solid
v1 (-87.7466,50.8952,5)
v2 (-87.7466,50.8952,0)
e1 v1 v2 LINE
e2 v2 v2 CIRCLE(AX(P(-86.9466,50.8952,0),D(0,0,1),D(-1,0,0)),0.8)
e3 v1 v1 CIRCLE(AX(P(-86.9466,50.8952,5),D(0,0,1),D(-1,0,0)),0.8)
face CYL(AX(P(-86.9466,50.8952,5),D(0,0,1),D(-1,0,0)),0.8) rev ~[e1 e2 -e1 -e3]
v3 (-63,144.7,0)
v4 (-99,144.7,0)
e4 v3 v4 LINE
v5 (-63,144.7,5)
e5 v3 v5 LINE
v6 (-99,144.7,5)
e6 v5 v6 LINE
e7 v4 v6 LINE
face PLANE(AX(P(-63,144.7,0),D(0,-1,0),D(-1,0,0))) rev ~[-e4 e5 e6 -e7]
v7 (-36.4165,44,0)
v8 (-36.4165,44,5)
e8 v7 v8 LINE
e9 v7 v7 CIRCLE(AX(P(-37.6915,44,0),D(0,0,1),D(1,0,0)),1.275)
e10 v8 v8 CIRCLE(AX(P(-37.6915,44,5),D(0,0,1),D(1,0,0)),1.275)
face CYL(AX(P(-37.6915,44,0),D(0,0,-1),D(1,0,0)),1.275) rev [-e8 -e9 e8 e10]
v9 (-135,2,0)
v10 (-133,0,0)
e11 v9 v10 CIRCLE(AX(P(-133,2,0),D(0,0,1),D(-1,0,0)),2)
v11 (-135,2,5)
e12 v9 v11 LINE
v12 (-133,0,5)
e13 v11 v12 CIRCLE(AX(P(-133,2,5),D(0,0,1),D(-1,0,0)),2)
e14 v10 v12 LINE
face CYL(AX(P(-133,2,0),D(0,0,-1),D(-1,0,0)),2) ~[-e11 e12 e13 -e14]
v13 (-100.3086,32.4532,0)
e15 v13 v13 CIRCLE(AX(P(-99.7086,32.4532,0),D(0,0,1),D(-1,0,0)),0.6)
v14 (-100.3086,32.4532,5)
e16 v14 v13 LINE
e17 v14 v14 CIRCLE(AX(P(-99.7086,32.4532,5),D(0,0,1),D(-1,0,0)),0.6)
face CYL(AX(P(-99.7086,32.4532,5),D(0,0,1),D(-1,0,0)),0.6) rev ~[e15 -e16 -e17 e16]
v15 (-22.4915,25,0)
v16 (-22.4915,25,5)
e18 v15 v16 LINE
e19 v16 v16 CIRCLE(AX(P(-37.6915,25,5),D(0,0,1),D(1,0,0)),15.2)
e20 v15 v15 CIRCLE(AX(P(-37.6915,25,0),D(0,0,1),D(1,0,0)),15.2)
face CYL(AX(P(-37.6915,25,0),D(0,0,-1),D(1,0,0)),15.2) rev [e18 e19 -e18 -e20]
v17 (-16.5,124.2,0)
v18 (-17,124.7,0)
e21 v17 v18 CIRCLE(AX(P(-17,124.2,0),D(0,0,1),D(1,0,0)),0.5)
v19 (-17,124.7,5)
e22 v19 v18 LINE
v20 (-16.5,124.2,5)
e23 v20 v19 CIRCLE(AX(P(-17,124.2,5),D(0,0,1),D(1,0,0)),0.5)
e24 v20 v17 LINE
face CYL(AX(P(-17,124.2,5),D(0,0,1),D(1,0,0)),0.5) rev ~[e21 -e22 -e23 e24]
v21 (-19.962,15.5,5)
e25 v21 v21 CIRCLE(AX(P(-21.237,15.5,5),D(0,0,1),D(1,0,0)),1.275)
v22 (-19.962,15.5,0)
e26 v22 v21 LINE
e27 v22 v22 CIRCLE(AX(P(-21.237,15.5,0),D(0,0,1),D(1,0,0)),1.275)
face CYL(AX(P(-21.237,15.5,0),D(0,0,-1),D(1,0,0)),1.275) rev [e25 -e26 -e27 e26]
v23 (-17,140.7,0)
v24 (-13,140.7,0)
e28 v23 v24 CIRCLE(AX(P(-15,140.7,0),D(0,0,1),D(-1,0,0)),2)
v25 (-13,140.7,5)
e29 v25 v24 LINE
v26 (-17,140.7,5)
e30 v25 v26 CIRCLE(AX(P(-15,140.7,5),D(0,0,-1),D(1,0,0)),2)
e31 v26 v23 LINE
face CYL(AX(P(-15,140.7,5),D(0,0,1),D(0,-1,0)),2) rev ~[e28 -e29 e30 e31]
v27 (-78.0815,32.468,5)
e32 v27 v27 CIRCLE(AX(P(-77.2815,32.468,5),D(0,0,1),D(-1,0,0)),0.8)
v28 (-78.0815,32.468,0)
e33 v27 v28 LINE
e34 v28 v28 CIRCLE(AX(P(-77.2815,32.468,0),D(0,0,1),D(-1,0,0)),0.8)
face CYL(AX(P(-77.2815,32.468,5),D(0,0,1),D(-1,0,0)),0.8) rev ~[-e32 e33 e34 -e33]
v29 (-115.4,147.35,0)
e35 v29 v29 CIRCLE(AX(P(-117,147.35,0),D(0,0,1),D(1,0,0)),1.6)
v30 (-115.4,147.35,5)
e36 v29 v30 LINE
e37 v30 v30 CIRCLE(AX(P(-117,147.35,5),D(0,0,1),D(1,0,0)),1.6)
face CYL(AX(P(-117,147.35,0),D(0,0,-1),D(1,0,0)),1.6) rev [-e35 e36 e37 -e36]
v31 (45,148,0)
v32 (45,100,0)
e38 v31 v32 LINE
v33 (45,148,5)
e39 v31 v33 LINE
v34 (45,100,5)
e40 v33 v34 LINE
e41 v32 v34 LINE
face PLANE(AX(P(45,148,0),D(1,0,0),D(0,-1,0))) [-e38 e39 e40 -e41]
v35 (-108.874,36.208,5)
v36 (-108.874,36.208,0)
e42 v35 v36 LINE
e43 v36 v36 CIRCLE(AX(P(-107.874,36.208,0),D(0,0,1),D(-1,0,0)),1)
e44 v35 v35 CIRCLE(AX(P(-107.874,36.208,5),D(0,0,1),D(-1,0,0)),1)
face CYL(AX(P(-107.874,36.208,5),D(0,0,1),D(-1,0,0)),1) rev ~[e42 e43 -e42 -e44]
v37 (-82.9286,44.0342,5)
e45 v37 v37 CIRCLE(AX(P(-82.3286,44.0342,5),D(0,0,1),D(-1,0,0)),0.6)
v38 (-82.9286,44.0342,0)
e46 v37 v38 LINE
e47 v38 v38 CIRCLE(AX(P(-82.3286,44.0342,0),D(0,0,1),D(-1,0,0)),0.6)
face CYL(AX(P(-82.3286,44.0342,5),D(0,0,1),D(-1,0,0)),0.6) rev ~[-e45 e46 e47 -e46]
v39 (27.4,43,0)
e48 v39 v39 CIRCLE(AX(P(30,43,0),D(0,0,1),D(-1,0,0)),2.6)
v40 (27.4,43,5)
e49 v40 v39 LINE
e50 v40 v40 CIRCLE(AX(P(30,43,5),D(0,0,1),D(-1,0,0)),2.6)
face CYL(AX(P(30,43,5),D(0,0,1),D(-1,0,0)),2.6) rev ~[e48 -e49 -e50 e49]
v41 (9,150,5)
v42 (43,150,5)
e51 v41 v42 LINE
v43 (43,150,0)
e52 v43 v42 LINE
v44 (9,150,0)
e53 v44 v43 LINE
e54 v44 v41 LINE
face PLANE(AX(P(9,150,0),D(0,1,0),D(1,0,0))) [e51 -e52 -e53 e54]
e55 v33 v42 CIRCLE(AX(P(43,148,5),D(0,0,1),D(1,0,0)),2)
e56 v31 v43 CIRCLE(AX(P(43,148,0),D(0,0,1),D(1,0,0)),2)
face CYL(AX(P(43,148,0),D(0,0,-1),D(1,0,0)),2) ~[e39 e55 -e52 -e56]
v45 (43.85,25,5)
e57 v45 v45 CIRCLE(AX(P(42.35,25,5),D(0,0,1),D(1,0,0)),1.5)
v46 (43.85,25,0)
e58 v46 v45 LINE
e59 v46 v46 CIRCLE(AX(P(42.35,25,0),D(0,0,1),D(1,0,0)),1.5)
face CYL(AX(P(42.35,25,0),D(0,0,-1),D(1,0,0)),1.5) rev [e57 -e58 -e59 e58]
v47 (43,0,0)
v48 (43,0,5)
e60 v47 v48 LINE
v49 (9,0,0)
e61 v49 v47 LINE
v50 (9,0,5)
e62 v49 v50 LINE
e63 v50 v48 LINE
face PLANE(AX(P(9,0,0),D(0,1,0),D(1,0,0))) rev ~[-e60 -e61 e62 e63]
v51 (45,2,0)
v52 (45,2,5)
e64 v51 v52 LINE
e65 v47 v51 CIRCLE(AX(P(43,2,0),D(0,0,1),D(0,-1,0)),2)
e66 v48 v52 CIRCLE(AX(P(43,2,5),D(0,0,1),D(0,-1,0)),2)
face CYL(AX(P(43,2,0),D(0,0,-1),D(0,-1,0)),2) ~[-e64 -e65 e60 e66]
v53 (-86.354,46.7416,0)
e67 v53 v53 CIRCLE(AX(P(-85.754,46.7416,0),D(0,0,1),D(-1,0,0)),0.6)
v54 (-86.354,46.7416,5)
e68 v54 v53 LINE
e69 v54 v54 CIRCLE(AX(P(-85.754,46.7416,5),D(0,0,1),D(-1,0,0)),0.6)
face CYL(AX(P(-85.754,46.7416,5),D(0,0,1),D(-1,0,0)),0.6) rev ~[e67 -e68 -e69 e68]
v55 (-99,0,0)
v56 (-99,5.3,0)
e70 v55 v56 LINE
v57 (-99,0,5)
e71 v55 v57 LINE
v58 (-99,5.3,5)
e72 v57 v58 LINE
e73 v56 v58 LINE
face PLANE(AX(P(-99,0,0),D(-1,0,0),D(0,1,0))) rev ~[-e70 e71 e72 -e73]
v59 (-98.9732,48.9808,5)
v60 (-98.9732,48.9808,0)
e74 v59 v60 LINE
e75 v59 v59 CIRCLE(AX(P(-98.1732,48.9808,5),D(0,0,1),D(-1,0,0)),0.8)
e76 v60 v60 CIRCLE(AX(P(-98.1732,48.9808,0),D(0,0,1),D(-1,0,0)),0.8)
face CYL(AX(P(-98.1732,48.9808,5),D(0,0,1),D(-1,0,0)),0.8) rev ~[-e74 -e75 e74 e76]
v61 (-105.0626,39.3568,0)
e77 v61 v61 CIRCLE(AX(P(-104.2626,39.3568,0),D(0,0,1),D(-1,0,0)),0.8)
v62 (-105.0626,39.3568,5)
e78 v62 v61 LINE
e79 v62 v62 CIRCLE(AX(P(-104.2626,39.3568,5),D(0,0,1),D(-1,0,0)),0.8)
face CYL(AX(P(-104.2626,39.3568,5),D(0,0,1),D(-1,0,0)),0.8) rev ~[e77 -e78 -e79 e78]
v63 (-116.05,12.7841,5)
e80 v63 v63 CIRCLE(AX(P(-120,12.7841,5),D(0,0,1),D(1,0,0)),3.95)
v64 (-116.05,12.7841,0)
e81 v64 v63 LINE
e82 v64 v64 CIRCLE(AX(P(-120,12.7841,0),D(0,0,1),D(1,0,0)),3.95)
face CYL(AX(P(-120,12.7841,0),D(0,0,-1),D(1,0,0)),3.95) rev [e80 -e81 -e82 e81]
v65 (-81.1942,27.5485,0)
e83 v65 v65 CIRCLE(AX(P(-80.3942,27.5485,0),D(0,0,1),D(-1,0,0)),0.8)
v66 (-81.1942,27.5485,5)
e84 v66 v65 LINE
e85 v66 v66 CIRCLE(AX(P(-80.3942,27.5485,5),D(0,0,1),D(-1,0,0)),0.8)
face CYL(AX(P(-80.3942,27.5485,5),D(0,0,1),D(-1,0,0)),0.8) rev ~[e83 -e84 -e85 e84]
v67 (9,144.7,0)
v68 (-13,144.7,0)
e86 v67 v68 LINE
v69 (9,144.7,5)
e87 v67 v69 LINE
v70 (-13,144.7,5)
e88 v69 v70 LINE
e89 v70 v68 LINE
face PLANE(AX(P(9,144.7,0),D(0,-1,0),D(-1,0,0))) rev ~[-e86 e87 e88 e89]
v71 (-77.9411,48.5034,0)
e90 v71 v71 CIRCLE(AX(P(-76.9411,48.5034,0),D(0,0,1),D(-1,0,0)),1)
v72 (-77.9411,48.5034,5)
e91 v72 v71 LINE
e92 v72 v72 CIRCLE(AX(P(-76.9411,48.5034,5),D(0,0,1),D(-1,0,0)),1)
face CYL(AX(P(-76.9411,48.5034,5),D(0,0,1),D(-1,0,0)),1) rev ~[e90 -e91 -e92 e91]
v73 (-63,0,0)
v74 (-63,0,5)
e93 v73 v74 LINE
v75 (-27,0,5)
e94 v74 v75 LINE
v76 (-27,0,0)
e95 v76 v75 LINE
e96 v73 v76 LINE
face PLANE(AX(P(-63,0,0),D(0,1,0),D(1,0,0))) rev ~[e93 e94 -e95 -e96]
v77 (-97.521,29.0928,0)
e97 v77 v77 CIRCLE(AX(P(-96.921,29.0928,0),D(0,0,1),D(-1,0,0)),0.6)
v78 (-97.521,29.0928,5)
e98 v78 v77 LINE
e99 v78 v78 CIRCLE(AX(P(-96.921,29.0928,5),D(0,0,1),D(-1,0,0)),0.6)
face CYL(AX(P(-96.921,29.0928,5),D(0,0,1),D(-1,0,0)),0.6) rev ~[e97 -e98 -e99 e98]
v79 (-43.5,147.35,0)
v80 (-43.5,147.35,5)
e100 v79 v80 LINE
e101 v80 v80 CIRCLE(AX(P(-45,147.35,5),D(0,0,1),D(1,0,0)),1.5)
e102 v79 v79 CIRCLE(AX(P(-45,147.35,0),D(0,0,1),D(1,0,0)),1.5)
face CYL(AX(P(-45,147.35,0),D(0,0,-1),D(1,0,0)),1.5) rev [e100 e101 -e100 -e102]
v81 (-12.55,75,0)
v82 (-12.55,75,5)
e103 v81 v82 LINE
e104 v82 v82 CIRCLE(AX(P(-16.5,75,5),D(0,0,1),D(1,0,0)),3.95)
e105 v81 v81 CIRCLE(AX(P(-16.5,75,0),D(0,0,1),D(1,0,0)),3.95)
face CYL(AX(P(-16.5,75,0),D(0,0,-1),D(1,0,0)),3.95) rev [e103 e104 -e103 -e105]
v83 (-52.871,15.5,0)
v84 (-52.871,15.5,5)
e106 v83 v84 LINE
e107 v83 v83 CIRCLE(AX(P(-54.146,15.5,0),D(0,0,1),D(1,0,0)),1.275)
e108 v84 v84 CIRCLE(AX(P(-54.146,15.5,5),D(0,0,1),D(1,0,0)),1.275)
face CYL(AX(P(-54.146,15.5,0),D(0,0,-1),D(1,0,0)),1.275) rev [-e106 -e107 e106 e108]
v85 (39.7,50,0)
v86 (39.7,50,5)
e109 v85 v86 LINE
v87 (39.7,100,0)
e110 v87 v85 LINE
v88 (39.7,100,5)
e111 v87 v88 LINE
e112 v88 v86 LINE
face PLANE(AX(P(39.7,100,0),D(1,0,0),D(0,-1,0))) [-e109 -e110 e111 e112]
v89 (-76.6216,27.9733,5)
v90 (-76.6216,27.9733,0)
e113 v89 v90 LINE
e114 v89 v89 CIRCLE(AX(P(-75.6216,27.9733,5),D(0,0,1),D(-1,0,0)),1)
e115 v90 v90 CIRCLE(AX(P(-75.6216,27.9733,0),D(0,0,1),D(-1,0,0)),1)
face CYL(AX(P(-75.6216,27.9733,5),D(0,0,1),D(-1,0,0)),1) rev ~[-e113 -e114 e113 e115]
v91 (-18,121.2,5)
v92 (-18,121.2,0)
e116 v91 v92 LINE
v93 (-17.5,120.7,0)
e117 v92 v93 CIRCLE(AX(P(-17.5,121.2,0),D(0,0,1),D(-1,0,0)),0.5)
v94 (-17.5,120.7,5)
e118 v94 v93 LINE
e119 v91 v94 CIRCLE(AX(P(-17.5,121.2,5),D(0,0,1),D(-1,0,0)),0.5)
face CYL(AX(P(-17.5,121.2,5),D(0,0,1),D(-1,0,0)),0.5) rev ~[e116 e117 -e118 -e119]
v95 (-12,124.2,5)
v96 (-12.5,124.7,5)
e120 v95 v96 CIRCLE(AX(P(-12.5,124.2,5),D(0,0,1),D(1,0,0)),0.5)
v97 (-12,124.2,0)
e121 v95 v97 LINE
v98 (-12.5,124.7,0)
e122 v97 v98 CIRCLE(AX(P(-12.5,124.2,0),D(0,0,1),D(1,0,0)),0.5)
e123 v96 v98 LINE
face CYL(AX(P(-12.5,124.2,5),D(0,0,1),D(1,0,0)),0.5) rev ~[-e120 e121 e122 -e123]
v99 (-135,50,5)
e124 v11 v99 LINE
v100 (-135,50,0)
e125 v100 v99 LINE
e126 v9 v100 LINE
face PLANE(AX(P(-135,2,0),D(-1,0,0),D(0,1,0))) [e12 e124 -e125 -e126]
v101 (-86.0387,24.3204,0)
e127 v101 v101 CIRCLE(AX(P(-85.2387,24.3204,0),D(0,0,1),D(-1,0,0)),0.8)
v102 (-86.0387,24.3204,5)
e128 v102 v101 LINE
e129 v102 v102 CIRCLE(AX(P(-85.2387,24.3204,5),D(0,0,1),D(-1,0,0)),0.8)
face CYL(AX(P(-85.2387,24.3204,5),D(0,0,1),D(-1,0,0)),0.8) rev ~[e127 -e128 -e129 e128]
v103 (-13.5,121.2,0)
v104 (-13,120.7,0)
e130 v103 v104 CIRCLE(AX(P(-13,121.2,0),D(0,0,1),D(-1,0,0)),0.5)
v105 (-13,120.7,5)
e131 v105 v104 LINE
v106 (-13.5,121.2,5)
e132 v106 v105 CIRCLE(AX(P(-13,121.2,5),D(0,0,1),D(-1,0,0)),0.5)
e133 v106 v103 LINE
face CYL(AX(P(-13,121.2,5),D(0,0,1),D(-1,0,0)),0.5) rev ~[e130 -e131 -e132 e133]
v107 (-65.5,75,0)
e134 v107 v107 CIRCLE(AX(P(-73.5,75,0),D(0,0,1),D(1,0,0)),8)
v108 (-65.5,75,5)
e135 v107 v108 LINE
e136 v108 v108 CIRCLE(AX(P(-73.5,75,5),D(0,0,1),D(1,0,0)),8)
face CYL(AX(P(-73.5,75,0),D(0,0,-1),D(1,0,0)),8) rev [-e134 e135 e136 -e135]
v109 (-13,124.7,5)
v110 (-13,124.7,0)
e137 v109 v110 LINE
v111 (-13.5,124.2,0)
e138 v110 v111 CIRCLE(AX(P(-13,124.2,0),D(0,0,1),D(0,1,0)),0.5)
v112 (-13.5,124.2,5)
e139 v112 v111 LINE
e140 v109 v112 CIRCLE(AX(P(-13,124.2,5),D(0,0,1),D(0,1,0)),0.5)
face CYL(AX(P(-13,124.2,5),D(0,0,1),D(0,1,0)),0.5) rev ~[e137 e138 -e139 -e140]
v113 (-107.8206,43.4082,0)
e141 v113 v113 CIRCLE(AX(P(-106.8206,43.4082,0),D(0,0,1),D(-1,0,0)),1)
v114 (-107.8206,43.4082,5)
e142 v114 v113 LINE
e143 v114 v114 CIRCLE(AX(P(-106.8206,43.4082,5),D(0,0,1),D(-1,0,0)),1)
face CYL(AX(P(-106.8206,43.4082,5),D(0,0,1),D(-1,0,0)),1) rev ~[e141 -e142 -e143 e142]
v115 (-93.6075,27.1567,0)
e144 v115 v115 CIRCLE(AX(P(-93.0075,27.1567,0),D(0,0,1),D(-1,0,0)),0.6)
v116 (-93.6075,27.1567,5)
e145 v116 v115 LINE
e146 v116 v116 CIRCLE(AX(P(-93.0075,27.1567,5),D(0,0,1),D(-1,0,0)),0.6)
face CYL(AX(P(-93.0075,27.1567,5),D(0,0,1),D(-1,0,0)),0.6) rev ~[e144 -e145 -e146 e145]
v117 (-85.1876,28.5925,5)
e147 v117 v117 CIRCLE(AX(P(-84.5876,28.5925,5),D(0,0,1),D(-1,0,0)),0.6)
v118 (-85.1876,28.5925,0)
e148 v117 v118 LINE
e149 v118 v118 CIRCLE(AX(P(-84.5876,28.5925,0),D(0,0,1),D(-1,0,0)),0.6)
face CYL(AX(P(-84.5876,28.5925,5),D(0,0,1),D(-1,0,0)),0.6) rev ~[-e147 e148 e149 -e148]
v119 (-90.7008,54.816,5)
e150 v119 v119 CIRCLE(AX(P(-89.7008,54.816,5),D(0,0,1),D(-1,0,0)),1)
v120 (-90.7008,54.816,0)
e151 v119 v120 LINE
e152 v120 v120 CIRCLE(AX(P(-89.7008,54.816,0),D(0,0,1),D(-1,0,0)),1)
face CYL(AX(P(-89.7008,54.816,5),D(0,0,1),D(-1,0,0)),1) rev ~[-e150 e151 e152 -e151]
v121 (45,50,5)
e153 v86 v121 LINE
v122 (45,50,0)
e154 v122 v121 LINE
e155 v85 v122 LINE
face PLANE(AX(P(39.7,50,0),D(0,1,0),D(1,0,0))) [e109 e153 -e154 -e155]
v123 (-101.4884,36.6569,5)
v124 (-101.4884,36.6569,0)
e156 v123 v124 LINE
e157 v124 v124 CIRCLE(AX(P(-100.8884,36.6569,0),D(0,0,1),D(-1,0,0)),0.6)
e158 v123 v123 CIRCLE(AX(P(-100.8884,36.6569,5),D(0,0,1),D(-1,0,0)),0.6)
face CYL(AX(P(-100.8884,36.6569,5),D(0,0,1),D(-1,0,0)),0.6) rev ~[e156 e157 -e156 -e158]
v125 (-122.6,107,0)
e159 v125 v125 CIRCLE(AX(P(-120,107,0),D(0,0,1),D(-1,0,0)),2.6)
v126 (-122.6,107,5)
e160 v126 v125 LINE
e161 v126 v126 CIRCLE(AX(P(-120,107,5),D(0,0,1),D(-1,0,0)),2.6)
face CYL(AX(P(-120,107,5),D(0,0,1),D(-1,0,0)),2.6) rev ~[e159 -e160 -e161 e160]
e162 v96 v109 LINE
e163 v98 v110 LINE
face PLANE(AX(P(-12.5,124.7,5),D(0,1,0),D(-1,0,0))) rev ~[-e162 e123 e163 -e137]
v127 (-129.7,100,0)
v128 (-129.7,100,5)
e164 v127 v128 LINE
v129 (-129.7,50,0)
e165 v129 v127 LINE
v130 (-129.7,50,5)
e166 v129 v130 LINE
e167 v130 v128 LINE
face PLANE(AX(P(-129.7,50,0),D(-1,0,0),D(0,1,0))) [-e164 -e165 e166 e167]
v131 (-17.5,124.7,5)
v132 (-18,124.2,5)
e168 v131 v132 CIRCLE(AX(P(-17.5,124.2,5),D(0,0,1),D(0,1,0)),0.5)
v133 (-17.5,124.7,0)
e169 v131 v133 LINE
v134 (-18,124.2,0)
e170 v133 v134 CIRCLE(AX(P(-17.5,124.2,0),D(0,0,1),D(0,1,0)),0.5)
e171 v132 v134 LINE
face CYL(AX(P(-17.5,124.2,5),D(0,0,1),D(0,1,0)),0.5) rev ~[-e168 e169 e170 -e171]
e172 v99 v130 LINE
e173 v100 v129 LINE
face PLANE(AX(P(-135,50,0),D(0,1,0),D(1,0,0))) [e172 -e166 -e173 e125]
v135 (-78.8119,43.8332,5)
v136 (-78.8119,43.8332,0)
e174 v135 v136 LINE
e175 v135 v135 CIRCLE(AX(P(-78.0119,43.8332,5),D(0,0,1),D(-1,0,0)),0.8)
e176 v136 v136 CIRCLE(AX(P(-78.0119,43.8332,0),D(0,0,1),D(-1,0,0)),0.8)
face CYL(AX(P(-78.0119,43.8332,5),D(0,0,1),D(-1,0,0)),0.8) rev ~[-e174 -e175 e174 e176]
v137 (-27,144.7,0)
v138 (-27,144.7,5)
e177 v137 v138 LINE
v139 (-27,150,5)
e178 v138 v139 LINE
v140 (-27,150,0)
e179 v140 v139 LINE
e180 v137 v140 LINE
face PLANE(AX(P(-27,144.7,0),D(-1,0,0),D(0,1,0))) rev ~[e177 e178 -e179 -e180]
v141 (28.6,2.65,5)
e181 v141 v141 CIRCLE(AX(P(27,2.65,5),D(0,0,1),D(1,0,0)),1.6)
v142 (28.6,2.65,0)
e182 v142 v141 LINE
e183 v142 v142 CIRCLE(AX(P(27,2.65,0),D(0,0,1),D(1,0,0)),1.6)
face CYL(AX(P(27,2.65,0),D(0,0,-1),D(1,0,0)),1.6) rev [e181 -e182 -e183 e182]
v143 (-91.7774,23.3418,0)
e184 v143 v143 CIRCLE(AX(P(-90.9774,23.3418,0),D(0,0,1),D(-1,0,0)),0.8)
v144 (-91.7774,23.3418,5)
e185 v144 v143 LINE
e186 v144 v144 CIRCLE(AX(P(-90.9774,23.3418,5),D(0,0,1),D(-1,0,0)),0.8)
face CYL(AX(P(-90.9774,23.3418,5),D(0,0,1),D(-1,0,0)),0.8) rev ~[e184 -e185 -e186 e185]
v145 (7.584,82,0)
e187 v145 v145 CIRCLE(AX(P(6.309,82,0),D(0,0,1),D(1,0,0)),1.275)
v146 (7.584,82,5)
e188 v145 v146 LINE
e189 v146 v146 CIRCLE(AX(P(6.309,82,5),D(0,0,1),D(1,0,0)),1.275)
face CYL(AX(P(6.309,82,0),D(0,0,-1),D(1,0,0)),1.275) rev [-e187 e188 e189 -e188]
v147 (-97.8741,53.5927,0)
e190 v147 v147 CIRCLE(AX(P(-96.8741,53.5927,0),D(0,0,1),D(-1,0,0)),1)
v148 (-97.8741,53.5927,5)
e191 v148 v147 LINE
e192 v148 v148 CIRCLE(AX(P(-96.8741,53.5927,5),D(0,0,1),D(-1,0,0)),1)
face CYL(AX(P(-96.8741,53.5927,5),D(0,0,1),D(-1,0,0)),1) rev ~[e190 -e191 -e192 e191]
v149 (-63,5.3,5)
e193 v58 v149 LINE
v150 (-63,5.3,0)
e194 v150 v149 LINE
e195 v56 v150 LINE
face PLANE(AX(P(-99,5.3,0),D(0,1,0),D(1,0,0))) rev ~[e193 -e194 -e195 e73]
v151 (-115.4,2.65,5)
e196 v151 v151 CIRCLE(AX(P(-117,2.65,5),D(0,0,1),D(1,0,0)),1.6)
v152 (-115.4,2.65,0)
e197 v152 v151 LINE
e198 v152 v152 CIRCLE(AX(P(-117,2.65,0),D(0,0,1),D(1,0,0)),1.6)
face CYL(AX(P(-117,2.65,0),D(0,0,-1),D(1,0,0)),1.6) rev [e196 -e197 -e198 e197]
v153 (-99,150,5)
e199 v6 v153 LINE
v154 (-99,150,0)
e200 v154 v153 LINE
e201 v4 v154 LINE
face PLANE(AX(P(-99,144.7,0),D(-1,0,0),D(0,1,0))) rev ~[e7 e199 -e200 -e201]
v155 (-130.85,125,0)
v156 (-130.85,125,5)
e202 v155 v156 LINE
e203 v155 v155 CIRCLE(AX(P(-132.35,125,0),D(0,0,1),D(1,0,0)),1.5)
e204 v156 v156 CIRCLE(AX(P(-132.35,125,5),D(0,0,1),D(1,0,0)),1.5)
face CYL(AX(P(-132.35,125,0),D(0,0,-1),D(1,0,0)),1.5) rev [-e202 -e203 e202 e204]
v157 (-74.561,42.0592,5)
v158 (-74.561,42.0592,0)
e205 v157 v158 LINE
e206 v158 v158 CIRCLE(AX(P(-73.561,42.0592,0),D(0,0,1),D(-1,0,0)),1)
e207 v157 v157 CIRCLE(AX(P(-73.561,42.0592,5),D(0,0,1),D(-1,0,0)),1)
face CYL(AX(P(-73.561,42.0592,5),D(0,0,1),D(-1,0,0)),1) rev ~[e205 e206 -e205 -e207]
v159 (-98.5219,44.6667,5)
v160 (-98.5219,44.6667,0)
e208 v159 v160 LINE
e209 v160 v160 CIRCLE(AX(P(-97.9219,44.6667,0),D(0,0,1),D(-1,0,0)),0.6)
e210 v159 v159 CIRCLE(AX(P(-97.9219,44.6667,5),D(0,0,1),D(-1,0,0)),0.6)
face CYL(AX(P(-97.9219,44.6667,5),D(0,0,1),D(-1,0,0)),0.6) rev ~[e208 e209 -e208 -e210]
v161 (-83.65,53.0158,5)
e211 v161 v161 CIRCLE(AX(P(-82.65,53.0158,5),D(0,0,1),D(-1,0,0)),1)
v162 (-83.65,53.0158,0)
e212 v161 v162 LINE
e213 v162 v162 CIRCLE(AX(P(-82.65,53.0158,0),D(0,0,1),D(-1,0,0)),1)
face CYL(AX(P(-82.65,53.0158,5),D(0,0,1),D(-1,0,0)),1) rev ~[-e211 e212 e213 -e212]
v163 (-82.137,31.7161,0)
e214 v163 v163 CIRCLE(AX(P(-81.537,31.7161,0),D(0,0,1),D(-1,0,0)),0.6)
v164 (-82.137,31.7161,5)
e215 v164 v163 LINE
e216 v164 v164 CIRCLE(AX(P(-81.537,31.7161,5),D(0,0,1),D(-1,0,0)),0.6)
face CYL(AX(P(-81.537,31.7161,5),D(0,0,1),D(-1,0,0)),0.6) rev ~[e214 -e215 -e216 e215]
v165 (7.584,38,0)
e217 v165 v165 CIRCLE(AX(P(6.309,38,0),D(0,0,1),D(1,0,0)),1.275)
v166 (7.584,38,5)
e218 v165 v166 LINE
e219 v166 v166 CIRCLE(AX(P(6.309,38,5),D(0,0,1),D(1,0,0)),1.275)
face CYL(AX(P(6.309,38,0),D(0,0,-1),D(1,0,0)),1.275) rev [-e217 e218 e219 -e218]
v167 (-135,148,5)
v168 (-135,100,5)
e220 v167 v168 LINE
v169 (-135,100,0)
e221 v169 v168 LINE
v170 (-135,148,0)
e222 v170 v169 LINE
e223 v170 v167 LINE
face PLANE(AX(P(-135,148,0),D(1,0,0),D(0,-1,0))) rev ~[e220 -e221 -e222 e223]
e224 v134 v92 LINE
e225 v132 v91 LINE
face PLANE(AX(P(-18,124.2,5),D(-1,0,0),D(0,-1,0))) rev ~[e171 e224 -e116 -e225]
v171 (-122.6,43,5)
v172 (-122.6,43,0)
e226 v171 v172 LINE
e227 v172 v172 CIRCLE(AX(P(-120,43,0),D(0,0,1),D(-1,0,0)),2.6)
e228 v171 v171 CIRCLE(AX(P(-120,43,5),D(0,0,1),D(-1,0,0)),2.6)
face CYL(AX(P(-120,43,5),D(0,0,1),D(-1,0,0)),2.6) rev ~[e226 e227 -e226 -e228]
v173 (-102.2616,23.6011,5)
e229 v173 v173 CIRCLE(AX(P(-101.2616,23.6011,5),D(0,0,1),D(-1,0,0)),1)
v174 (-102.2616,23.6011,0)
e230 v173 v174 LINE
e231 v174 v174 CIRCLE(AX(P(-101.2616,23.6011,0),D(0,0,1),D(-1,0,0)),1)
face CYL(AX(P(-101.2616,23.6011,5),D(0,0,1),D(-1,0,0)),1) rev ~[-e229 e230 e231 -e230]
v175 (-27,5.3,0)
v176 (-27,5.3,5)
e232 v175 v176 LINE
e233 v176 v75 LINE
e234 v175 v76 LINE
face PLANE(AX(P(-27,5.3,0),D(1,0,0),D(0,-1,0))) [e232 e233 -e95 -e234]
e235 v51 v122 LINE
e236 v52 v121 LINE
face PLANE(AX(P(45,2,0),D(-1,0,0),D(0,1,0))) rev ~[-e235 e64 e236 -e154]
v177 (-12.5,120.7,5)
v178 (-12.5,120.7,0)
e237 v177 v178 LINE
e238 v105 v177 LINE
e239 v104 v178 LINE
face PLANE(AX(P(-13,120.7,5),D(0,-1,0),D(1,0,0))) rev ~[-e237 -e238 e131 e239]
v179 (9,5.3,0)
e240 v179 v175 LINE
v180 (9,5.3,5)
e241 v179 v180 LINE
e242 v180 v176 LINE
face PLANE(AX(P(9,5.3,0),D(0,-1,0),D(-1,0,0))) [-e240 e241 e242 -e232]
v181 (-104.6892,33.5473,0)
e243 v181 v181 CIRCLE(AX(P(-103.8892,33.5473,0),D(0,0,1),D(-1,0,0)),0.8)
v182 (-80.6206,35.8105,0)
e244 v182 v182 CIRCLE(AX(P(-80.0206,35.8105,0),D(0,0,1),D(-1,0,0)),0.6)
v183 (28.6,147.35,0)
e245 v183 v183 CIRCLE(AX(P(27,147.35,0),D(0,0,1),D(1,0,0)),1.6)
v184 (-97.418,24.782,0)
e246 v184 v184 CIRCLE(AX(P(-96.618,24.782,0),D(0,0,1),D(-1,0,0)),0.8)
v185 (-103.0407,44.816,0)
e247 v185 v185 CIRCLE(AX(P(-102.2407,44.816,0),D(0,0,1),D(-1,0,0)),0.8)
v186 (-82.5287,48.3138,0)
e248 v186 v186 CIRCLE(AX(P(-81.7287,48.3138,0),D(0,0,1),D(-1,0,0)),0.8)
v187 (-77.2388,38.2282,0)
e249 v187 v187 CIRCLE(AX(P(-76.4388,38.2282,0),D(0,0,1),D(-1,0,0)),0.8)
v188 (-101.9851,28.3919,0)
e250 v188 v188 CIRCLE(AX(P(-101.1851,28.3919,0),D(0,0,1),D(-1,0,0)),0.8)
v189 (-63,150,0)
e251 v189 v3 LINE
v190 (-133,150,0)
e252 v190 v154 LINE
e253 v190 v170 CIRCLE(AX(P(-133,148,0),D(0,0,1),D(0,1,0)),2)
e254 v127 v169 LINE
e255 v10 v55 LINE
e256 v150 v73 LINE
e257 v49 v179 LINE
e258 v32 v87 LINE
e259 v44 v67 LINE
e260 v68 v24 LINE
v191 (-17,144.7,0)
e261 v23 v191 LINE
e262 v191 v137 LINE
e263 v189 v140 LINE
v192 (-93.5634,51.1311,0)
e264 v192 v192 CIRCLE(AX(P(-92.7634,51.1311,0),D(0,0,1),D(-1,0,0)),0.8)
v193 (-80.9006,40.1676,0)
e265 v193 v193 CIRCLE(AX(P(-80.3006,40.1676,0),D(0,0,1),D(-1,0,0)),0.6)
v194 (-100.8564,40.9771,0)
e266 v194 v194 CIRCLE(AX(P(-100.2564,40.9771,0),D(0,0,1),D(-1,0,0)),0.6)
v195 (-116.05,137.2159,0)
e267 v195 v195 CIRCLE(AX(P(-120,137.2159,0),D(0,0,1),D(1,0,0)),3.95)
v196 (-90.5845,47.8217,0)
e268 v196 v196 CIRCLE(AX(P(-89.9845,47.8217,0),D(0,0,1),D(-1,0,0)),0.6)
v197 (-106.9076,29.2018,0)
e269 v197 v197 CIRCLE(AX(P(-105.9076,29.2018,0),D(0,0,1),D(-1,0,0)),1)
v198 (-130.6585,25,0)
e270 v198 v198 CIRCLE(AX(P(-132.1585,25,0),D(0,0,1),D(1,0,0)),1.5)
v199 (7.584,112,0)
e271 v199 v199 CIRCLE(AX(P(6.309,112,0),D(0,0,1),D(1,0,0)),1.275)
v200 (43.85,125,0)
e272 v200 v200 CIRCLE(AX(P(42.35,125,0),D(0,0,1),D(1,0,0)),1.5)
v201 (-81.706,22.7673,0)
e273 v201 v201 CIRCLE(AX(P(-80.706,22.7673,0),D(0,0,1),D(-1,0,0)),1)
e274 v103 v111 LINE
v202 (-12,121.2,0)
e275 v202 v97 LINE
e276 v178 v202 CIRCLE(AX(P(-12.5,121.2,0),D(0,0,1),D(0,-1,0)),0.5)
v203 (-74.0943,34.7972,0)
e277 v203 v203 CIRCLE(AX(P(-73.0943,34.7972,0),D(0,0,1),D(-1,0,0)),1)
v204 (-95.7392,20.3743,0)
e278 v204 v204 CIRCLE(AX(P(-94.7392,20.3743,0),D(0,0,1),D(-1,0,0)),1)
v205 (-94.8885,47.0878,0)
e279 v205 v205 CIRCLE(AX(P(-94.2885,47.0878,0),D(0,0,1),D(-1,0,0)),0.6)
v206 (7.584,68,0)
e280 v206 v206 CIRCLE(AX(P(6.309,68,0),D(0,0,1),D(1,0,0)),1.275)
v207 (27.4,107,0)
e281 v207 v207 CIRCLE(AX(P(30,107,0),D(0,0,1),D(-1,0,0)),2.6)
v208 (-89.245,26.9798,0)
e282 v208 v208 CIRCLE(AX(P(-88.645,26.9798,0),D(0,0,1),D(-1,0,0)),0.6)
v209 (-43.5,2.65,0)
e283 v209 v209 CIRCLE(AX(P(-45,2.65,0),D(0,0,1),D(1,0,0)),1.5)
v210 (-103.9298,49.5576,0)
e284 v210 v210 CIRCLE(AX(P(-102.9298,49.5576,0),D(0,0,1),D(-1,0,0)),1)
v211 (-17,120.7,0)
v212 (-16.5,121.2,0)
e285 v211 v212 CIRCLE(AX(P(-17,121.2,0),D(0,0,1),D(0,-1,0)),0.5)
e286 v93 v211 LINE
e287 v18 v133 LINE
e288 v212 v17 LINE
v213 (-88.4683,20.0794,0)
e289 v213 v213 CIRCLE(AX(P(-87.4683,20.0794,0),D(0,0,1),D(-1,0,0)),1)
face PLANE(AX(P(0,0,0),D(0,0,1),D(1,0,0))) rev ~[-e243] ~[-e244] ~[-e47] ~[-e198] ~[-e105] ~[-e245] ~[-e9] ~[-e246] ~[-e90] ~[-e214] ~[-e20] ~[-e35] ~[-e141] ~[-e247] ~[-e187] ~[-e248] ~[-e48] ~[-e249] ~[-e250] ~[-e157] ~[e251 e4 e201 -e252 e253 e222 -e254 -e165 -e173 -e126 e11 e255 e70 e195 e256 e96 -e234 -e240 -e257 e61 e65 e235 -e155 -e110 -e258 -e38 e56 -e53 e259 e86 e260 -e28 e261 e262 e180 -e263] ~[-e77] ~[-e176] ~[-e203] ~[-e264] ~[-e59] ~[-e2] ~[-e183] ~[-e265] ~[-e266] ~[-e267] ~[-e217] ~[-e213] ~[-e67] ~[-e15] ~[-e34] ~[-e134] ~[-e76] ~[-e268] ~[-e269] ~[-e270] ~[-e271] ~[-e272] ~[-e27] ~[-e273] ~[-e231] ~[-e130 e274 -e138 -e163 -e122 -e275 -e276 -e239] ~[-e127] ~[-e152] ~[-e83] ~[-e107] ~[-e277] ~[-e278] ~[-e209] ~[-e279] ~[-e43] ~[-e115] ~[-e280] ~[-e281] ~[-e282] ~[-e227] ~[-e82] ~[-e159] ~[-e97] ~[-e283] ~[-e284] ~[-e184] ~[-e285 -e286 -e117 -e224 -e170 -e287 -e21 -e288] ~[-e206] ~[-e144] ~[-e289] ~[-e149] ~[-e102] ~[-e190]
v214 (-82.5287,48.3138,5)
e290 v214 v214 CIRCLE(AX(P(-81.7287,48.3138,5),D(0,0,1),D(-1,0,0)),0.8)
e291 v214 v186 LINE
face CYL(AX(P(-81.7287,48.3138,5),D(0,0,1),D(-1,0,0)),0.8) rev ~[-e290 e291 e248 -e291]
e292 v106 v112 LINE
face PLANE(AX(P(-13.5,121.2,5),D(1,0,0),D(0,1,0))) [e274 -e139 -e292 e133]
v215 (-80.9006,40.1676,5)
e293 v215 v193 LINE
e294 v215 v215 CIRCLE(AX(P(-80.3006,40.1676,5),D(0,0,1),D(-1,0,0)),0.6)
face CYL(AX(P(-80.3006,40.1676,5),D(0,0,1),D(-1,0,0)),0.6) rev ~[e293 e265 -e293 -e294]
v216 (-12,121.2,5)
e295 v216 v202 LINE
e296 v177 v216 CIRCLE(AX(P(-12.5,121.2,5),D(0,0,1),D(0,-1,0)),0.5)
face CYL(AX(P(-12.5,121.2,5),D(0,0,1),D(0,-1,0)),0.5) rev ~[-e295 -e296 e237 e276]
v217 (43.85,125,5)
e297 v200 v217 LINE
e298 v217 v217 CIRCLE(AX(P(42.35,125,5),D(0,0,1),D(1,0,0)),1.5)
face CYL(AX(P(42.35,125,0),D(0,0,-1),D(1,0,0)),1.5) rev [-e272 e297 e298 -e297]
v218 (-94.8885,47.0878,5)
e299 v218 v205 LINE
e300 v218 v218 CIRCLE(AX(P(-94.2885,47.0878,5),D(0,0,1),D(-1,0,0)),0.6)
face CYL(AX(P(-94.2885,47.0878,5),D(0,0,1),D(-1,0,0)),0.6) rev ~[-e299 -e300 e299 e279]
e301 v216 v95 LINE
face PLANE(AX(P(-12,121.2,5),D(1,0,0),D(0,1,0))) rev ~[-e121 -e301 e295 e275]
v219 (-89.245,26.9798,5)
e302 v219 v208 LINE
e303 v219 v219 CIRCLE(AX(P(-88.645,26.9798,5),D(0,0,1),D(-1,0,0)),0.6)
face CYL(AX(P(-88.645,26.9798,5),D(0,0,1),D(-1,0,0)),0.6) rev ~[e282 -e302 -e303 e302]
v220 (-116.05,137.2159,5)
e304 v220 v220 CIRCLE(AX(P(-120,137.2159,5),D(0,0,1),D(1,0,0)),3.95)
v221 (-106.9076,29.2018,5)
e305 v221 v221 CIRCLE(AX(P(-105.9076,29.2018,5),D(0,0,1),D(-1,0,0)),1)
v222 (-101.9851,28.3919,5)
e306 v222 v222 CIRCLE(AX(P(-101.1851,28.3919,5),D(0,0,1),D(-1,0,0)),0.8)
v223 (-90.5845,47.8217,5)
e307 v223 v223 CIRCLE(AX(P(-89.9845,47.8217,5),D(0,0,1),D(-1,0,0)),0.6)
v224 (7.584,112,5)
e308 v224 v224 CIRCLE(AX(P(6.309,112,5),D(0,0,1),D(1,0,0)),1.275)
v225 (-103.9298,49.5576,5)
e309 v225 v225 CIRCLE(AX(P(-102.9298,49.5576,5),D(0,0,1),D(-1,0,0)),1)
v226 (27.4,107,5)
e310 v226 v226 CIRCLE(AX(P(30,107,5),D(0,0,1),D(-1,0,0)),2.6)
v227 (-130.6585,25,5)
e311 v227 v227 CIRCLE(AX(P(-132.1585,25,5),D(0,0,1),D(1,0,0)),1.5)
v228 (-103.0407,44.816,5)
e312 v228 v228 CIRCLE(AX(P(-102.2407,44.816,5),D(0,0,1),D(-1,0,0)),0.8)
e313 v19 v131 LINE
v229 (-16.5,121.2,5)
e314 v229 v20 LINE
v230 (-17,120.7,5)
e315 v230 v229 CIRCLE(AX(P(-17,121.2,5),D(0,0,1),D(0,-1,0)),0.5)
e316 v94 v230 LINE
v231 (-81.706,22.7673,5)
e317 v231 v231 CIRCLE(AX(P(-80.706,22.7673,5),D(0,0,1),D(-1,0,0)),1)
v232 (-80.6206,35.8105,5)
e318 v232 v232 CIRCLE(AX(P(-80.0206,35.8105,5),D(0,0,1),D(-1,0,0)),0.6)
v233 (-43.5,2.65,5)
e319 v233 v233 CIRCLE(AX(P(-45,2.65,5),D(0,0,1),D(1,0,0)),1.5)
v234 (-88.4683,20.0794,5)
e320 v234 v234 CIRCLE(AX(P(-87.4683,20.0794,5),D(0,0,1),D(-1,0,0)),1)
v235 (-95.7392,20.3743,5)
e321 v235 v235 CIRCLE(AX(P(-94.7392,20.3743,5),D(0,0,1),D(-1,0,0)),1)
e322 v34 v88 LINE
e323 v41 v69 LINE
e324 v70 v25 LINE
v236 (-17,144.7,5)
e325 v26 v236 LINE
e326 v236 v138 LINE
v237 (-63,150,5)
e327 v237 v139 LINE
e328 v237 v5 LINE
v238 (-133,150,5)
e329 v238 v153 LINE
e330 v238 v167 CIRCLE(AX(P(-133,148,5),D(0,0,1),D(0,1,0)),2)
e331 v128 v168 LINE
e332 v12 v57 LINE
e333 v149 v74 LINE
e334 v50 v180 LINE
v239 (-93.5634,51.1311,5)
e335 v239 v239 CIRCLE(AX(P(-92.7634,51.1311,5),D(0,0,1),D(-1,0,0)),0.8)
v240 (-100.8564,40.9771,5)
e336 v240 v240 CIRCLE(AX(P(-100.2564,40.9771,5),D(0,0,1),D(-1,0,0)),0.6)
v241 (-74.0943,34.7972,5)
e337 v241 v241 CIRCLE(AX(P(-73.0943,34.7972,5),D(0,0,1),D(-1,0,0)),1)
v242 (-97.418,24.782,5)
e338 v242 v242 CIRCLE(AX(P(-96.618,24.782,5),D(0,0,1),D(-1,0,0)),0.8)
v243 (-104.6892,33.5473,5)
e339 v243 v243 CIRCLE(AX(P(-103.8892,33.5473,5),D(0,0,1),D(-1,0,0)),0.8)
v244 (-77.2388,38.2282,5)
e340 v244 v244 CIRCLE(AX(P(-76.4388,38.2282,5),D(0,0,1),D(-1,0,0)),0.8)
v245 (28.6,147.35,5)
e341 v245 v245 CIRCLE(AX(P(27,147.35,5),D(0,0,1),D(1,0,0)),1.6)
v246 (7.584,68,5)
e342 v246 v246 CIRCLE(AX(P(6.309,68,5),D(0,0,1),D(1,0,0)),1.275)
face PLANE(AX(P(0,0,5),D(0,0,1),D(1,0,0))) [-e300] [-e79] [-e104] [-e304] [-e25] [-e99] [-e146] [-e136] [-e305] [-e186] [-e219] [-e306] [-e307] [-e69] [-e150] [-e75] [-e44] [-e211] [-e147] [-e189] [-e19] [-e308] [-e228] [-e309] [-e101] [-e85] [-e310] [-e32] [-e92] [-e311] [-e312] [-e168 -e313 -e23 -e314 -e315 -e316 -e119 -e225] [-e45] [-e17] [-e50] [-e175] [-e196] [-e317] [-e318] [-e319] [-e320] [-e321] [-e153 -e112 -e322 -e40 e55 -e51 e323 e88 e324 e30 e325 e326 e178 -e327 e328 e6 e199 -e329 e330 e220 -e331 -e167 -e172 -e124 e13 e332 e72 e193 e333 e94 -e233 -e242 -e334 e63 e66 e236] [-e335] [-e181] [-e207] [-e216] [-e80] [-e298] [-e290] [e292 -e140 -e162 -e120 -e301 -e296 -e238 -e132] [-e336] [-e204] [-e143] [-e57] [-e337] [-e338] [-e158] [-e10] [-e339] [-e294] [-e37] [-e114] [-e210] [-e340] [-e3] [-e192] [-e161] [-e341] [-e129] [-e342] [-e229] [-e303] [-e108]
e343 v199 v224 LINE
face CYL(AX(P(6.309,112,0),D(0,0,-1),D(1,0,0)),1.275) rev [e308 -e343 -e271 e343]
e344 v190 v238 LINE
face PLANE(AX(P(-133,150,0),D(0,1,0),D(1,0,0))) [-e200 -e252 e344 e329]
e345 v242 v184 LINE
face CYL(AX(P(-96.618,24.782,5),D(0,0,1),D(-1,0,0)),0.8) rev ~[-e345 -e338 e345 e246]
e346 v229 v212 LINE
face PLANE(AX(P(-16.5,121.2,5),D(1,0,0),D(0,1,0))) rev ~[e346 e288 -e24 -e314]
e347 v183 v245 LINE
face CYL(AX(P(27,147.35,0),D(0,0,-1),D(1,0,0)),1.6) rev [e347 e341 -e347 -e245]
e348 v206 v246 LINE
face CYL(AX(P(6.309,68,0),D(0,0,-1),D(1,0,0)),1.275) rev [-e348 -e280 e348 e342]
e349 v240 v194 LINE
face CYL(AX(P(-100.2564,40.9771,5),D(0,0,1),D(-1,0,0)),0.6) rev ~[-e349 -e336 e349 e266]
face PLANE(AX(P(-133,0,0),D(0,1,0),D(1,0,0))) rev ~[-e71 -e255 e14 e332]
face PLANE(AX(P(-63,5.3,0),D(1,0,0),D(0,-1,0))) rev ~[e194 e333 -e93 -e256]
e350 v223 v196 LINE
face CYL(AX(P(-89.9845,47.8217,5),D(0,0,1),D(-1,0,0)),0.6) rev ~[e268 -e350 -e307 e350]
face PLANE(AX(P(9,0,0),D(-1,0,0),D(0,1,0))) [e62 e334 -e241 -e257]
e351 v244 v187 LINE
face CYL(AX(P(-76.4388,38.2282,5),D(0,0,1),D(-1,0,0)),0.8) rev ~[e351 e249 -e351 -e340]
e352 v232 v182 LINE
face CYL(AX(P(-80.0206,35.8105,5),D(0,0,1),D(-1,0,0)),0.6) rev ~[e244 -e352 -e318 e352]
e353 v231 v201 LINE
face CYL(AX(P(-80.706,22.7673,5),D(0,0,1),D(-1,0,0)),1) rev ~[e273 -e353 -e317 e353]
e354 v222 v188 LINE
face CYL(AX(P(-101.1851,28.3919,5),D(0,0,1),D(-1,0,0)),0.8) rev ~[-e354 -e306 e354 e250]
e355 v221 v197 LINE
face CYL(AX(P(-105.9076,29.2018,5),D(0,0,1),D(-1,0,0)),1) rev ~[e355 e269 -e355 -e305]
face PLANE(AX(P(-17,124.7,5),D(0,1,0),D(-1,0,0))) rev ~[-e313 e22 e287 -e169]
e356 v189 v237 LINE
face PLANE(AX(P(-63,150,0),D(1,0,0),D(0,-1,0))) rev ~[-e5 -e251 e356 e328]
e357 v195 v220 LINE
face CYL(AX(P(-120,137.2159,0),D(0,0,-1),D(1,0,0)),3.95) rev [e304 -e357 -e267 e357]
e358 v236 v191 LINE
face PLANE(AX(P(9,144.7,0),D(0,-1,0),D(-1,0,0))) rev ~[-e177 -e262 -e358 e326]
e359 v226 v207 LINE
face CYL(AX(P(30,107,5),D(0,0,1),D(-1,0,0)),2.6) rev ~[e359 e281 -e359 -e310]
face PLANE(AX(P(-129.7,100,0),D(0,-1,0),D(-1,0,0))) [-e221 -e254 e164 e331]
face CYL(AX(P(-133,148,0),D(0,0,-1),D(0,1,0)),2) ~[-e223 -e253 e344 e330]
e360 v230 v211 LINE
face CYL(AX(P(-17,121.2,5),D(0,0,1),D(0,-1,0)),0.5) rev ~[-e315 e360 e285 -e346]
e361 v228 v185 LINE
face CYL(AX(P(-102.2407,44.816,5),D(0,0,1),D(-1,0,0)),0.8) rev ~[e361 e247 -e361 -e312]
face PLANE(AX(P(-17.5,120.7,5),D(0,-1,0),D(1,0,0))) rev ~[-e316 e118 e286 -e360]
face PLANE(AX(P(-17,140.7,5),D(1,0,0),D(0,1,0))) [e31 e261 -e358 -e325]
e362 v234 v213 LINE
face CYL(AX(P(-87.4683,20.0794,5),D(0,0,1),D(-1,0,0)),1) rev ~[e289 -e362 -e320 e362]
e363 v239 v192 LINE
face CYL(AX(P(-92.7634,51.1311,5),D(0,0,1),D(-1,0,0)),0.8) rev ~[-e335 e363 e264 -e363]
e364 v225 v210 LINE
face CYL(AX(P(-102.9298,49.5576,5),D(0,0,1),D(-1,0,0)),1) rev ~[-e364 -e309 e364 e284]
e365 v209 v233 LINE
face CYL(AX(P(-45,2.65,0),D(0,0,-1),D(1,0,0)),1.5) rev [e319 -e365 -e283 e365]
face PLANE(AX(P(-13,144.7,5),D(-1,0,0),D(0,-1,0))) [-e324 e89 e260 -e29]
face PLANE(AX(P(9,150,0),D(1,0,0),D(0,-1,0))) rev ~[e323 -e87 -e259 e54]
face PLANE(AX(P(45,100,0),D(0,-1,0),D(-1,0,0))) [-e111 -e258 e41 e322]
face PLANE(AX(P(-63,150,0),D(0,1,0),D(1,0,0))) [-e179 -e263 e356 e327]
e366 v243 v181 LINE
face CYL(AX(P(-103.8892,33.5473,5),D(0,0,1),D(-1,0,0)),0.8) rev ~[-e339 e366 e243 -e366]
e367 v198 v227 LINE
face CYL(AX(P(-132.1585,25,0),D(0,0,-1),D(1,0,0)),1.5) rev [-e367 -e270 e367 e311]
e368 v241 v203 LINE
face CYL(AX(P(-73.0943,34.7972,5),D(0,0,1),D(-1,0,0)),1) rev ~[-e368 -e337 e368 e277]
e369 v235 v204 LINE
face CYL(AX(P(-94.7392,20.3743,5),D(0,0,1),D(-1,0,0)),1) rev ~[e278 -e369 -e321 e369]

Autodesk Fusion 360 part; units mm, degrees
sketch "Esquisse1" plane through (0, 0, 0) normal (0, 0, 1) x (1, 0, 0)
  circle A0 centre (-16.5, 75) radius 3.95
  circle A1 centre (-73.5, 75) radius 8
  arc A2 (-133, 150) -> (-135, 148) centre (-133, 148) ccw
  arc A3 (43, 0) -> (45, 2) centre (43, 2) ccw
  arc A4 (45, 148) -> (43, 150) centre (43, 148) ccw
  arc A5 (-135, 2) -> (-133, 0) centre (-133, 2) ccw
  circle A6 centre (-37.6915, 25) radius 15.2
  line L0 (-135, 75) -> (45, 75) construction
  circle A7 centre (-73.5, 75) radius 61.5 construction
  line L1 (-45, 75) -> (-133, 148) construction
  circle A8 centre (-120, 12.7841) radius 3.95
  line L2 (-37.6915, 25) -> (-37.6915, 48) construction
  circle A9 centre (-37.6915, 44) radius 1.275
  circle A10 centre (-54.146, 15.5) radius 1.275
  circle A11 centre (-21.237, 15.5) radius 1.275
  line L3 (-99, 0) -> (-99, 5.3)
  line L4 (-99, 5.3) -> (-63, 5.3)
  line L5 (-63, 5.3) -> (-63, 0)
  line L6 (9, 0) -> (9, 5.3)
  line L7 (9, 5.3) -> (-27, 5.3)
  line L8 (-27, 5.3) -> (-27, 0)
  line L9 (-133, 0) -> (-99, 0)
  line L10 (-63, 0) -> (-27, 0)
  line L11 (9, 0) -> (43, 0)
  circle A12 centre (-45, 2.65) radius 1.5
  circle A13 centre (27, 2.65) radius 1.6
  line L12 (-63, 150) -> (-63, 144.7)
  line L13 (-63, 144.7) -> (-99, 144.7)
  line L14 (-99, 144.7) -> (-99, 150)
  line L15 (9, 150) -> (9, 144.7)
  line L16 (9, 144.7) -> (-27, 144.7)
  line L17 (-27, 144.7) -> (-27, 150)
  line L18 (-133, 150) -> (-99, 150)
  line L19 (-63, 150) -> (-27, 150)
  line L20 (9, 150) -> (43, 150)
  circle A14 centre (-45, 147.35) radius 1.5
  circle A15 centre (27, 147.35) radius 1.6
  line L21 (-135, 50) -> (-129.7, 50)
  line L22 (-129.7, 50) -> (-129.7, 100)
  line L23 (-129.7, 100) -> (-135, 100)
  line L24 (-135, 148) -> (-135, 100)
  line L25 (-135, 2) -> (-135, 50)
  line L26 (45, 100) -> (39.7, 100)
  line L27 (39.7, 100) -> (39.7, 50)
  line L28 (39.7, 50) -> (45, 50)
  line L29 (45, 148) -> (45, 100)
  line L30 (45, 2) -> (45, 50)
  circle A16 centre (-132.35, 125) radius 1.5
  circle A17 centre (-132.1585, 25) radius 1.5
  circle A18 centre (42.35, 125) radius 1.5
  circle A19 centre (42.35, 25) radius 1.5
  circle A20 centre (-117, 2.65) radius 1.6
  circle A21 centre (-120, 137.2159) radius 3.95
  circle A22 centre (-117, 147.35) radius 1.6
  circle A23 centre (6.309, 38) radius 1.275
  circle A24 centre (6.309, 68) radius 1.275
  circle A25 centre (6.309, 82) radius 1.275
  circle A26 centre (6.309, 112) radius 1.275
  point P0 (-135, 0)
  point P1 (-135, 150)
  point P2 (45, 150)
  dimension "d1" = 180
  dimension "d2" = 150
  dimension "d5" = 7.9
  dimension "d6" = 16
  dimension "d7" = 2
  dimension "d8" = 2
  dimension "d9" = 2
  dimension "d47" = 30.4
  dimension "d51" = 50
  dimension "d52" = 123
  dimension "d62" = 2.55
  dimension "d63" = 19
  dimension "d65" = 360
  dimension "d71" = 5.3
  dimension "d73" = 36
  dimension "d74" = 36
  dimension "d75" = 5.3
  dimension "d76" = 36
  dimension "d80" = 3
  dimension "d81" = 2.65
  dimension "d82" = 18
  dimension "d83" = 3.2
  dimension "d84" = 18
  dimension "d85" = 2.65
  dimension "d86" = 5.3
  dimension "d87" = 5.3
  dimension "d88" = 36
  dimension "d89" = 36
  dimension "d91" = 36
  dimension "d92" = 5.3
  dimension "d93" = 50
  dimension "d94" = 50
  dimension "d95" = 50
  dimension "d96" = 50
  dimension "d97" = 5.3
  dimension "d98" = 3
  dimension "d99" = 2.65
  dimension "d100" = 25
  dimension "d101" = 3
  dimension "d102" = 25
  dimension "d103" = 3
  dimension "d104" = 2.65
  dimension "d106" = 3
  dimension "d107" = 25
  dimension "d108" = 2.65
  dimension "d109" = 3.2
  dimension "d110" = 18
  dimension "d111" = 2.65
  dimension "d113" = 25
  dimension "d141" = 2.55
  dimension "d142" = 32.7
  dimension "d143" = 38.691
  dimension "d144" = 2.55
  dimension "d145" = 38.691
  dimension "d146" = 30
extrude "Extrusion1" add sketch "Esquisse1" along normal blind 5
sketch "Esquisse2" plane through (0, 0, 5) normal (0, 0, 1) x (-1, 0, 0)
  circle A0 centre (73.5, -75) radius 8
  circle A1 centre (16.5, -75) radius 3.95
  arc A2 (133, -150) -> (135, -148) centre (133, -148) ccw
  arc A3 (135, -2) -> (133, 0) centre (133, -2) ccw
  arc A4 (-43, 0) -> (-45, -2) centre (-43, -2) ccw
  arc A5 (-45, -148) -> (-43, -150) centre (-43, -148) ccw
  line L0 (135, -75) -> (-45, -75) construction
  line L1 (120, -75) -> (120, -150) construction
  line L2 (45, -150) -> (45, 0) construction
  circle A6 centre (37.6915, -25) radius 15.2
  circle A7 centre (120, -12.7841) radius 3.95
  circle A8 centre (37.6915, -44) radius 1.275
  circle A9 centre (54.146, -15.5) radius 1.275
  circle A10 centre (21.237, -15.5) radius 1.275
  circle A11 centre (120, -107) radius 2.6
  circle A12 centre (120, -43) radius 2.6
  circle A13 centre (-30, -43) radius 2.6
  circle A14 centre (-30, -107) radius 2.6
  line L3 (-9, -5.3) -> (-9, 0)
  line L4 (-9, 0) -> (-43, 0)
  line L5 (133, 0) -> (99, 0)
  line L6 (99, 0) -> (99, -5.3)
  line L7 (99, -5.3) -> (63, -5.3)
  line L8 (63, -5.3) -> (63, 0)
  line L9 (63, 0) -> (27, 0)
  line L10 (27, 0) -> (27, -5.3)
  line L11 (27, -5.3) -> (-9, -5.3)
  line L12 (-9, -144.7) -> (27, -144.7)
  line L13 (27, -144.7) -> (27, -150)
  line L14 (27, -150) -> (63, -150)
  line L15 (63, -150) -> (63, -144.7)
  line L16 (63, -144.7) -> (99, -144.7)
  line L17 (99, -144.7) -> (99, -150)
  line L18 (99, -150) -> (133, -150)
  line L19 (-43, -150) -> (-9, -150)
  line L20 (-9, -150) -> (-9, -144.7)
  line L21 (-45, -2) -> (-45, -50)
  line L22 (-45, -50) -> (-39.7, -50)
  line L23 (-39.7, -50) -> (-39.7, -100)
  line L24 (-39.7, -100) -> (-45, -100)
  line L25 (-45, -100) -> (-45, -148)
  line L26 (135, -148) -> (135, -100)
  line L27 (135, -100) -> (129.7, -100)
  line L28 (129.7, -100) -> (129.7, -50)
  line L29 (129.7, -50) -> (135, -50)
  line L30 (135, -50) -> (135, -2)
  circle A15 centre (-27, -2.65) radius 1.6
  circle A16 centre (45, -2.65) radius 1.5
  circle A17 centre (45, -147.35) radius 1.5
  circle A18 centre (-42.35, -25) radius 1.5
  circle A19 centre (-42.35, -125) radius 1.5
  circle A20 centre (132.1585, -25) radius 1.5
  circle A21 centre (-27, -147.35) radius 1.6
  circle A22 centre (132.35, -125) radius 1.5
  circle A23 centre (120, -137.2159) radius 3.95
  circle A24 centre (117, -147.35) radius 1.6
  circle A25 centre (117, -2.65) radius 1.6
  circle A26 centre (-6.309, -38) radius 1.275
  circle A27 centre (-6.309, -68) radius 1.275
  circle A28 centre (-6.309, -112) radius 1.275
  circle A29 centre (-6.309, -82) radius 1.275
  point P0 (-30, -75)
  dimension "d53" = 16
  dimension "d66" = 5.2
  dimension "d69" = 32
  dimension "d70" = 75
extrude "Extrusion4" cut sketch "Esquisse2" against normal blind 5 contours A11 | A12 | A13 | A14
sketch "Esquisse3" plane through (0, 0, 5) normal (0, 0, 1) x (-1, 0, 0)
  circle A0 centre (120, -43) radius 2.6
  circle A1 centre (-30, -43) radius 2.6
  circle A2 centre (120, -107) radius 2.6
  circle A3 centre (-30, -107) radius 2.6
  circle A4 centre (37.6915, -25) radius 15.2
  circle A5 centre (-42.35, -125) radius 1.5
  circle A6 centre (37.6915, -44) radius 1.275
  circle A7 centre (16.5, -75) radius 3.95
  circle A8 centre (54.146, -15.5) radius 1.275
  circle A9 centre (117, -2.65) radius 1.6
  circle A10 centre (21.237, -15.5) radius 1.275
  circle A11 centre (117, -147.35) radius 1.6
  circle A12 centre (-42.35, -25) radius 1.5
  circle A13 centre (120, -12.7841) radius 3.95
  circle A14 centre (-27, -147.35) radius 1.6
  circle A15 centre (45, -2.65) radius 1.5
  circle A16 centre (-27, -2.65) radius 1.6
  circle A17 centre (45, -147.35) radius 1.5
  circle A18 centre (132.1585, -25) radius 1.5
  circle A19 centre (132.35, -125) radius 1.5
  circle A20 centre (120, -137.2159) radius 3.95
  circle A21 centre (73.5, -75) radius 8
  line L0 (-9, 0) -> (-43, 0)
  arc A22 (-43, 0) -> (-45, -2) centre (-43, -2) ccw
  line L1 (-45, -2) -> (-45, -50)
  line L2 (-45, -50) -> (-39.7, -50)
  line L3 (-39.7, -50) -> (-39.7, -100)
  line L4 (-39.7, -100) -> (-45, -100)
  line L5 (-45, -100) -> (-45, -148)
  arc A23 (-45, -148) -> (-43, -150) centre (-43, -148) ccw
  line L6 (-43, -150) -> (-9, -150)
  line L7 (-9, -150) -> (-9, -144.7)
  line L8 (-9, -144.7) -> (27, -144.7)
  line L9 (27, -144.7) -> (27, -150)
  line L10 (27, -150) -> (63, -150)
  line L11 (63, -150) -> (63, -144.7)
  line L12 (63, -144.7) -> (99, -144.7)
  line L13 (99, -144.7) -> (99, -150)
  line L14 (99, -150) -> (133, -150)
  arc A24 (133, -150) -> (135, -148) centre (133, -148) ccw
  line L15 (135, -148) -> (135, -100)
  line L16 (135, -100) -> (129.7, -100)
  line L17 (129.7, -100) -> (129.7, -50)
  line L18 (129.7, -50) -> (135, -50)
  line L19 (135, -50) -> (135, -2)
  arc A25 (135, -2) -> (133, 0) centre (133, -2) ccw
  line L20 (133, 0) -> (99, 0)
  line L21 (99, 0) -> (99, -5.3)
  line L22 (99, -5.3) -> (63, -5.3)
  line L23 (63, -5.3) -> (63, 0)
  line L24 (63, 0) -> (27, 0)
  line L25 (27, 0) -> (27, -5.3)
  line L26 (27, -5.3) -> (-9, -5.3)
  line L27 (-9, -5.3) -> (-9, 0)
  line L28 (133, -2) -> (-43, -148) construction
  circle A26 centre (90.41, -37.3303) radius 17.5 construction
  circle A27 centre (101.2616, -23.6011) radius 1
  circle A28 centre (94.7392, -20.3743) radius 1
  circle A29 centre (87.4683, -20.0794) radius 1
  circle A30 centre (80.706, -22.7673) radius 1
  circle A31 centre (75.6216, -27.9733) radius 1
  circle A32 centre (73.0943, -34.7972) radius 1
  circle A33 centre (73.561, -42.0592) radius 1
  circle A34 centre (76.9411, -48.5034) radius 1
  circle A35 centre (82.65, -53.0158) radius 1
  circle A36 centre (89.7008, -54.816) radius 1
  circle A37 centre (96.8741, -53.5927) radius 1
  circle A38 centre (102.9298, -49.5576) radius 1
  circle A39 centre (106.8206, -43.4082) radius 1
  circle A40 centre (107.874, -36.208) radius 1
  circle A41 centre (105.9076, -29.2018) radius 1
  circle A42 centre (90.41, -37.3303) radius 14 construction
  circle A43 centre (96.618, -24.782) radius 0.8
  line L29 (101.2616, -23.6011) -> (90.41, -37.3303) construction
  line L30 (96.618, -24.782) -> (90.41, -37.3303) construction
  circle A44 centre (90.9774, -23.3418) radius 0.8
  circle A45 centre (85.2387, -24.3204) radius 0.8
  circle A46 centre (80.3942, -27.5485) radius 0.8
  circle A47 centre (77.2815, -32.468) radius 0.8
  circle A48 centre (76.4388, -38.2282) radius 0.8
  circle A49 centre (78.0119, -43.8332) radius 0.8
  circle A50 centre (81.7287, -48.3138) radius 0.8
  circle A51 centre (86.9466, -50.8952) radius 0.8
  circle A52 centre (92.7634, -51.1311) radius 0.8
  circle A53 centre (98.1732, -48.9808) radius 0.8
  circle A54 centre (102.2407, -44.816) radius 0.8
  circle A55 centre (104.2626, -39.3568) radius 0.8
  circle A56 centre (103.8892, -33.5473) radius 0.8
  circle A57 centre (101.1851, -28.3919) radius 0.8
  circle A58 centre (90.41, -37.3303) radius 10.5 construction
  circle A59 centre (96.921, -29.0928) radius 0.6
  circle A60 centre (93.0075, -27.1567) radius 0.6
  circle A61 centre (88.645, -26.9798) radius 0.6
  circle A62 centre (84.5876, -28.5925) radius 0.6
  circle A63 centre (81.537, -31.7161) radius 0.6
  circle A64 centre (80.0206, -35.8105) radius 0.6
  circle A65 centre (80.3006, -40.1676) radius 0.6
  circle A66 centre (82.3286, -44.0342) radius 0.6
  circle A67 centre (85.754, -46.7416) radius 0.6
  circle A68 centre (89.9845, -47.8217) radius 0.6
  circle A69 centre (94.2885, -47.0878) radius 0.6
  circle A70 centre (97.9219, -44.6667) radius 0.6
  circle A71 centre (100.2564, -40.9771) radius 0.6
  circle A72 centre (100.8884, -36.6569) radius 0.6
  circle A73 centre (99.7086, -32.4532) radius 0.6
  line L31 (45, -75) -> (53.0468, -84.7003) construction
  circle A74 centre (-6.309, -38) radius 1.275
  circle A75 centre (-6.309, -68) radius 1.275
  circle A76 centre (-6.309, -112) radius 1.275
  circle A77 centre (-6.309, -82) radius 1.275
  line L32 (17, -144.7) -> (13, -144.7)
  line L33 (13, -144.7) -> (13, -140.7)
  line L34 (15.0171, -138.7) -> (15.0171, -138.7)
  line L35 (17, -140.7) -> (17, -144.7)
  arc A78 (17, -140.7) -> (15, -138.7) centre (15, -140.7) ccw
  arc A79 (15, -138.7) -> (13, -140.7) centre (15, -140.7) ccw
  line L36 (15, -144.7) -> (15, -140.7) construction
  line L37 (15, -144.7) -> (15, -86.7887) construction
  line L38 (18, -120.7) -> (12, -120.7)
  line L39 (12, -121.2) -> (12, -124.2)
  line L40 (12, -124.7) -> (17.5, -124.7)
  line L41 (18, -124.2) -> (18, -121.2)
  line L42 (17.5, -120.7) -> (17, -120.7)
  line L43 (16.5, -121.2) -> (16.5, -124.2)
  line L44 (17, -124.7) -> (18, -124.7)
  line L45 (18, -124.7) -> (18, -120.7)
  line L46 (12.5, -120.7) -> (13, -120.7)
  line L47 (13.5, -121.2) -> (13.5, -124.2)
  line L48 (13, -124.7) -> (12.5, -124.7)
  line L49 (12, -124.7) -> (12, -120.7)
  arc A80 (17, -120.7) -> (16.5, -121.2) centre (17, -121.2) ccw
  arc A81 (18, -121.2) -> (17.5, -120.7) centre (17.5, -121.2) ccw
  arc A82 (17.5, -124.7) -> (18, -124.2) centre (17.5, -124.2) ccw
  arc A83 (16.5, -124.2) -> (17, -124.7) centre (17, -124.2) ccw
  arc A84 (13, -124.7) -> (13.5, -124.2) centre (13, -124.2) ccw
  arc A85 (13.5, -121.2) -> (13, -120.7) centre (13, -121.2) ccw
  arc A86 (12.5, -120.7) -> (12, -121.2) centre (12.5, -121.2) ccw
  arc A87 (12, -124.2) -> (12.5, -124.7) centre (12.5, -124.2) ccw
  point P0 (17, -138.7)
  point P1 (18, -124.7)
  point P2 (13.5, -120.7)
  dimension "d114" = 35
  dimension "d115" = 2
  dimension "d117" = 360
  dimension "d118" = 28
  dimension "d119" = 12
  dimension "d120" = 24
  dimension "d121" = 1.6
  dimension "d123" = 360
  dimension "d124" = 21
  dimension "d126" = 1.2
  dimension "d128" = 360
  dimension "d147" = 4
  dimension "d148" = 6
  dimension "d149" = 2
  dimension "d153" = 60
  dimension "d154" = 6
  dimension "d155" = 4
  dimension "d156" = 3
  dimension "d157" = 4
  dimension "d158" = 1.5
  dimension "d159" = 4
  dimension "d160" = 0.5
  dimension "d161" = 20
extrude "Extrusion5" cut sketch "Esquisse3" against normal blind 5 contours L8 L32 L33 L35 A78 A79 | A27 | A28 | A29 | A30 | A31 | A32 | A33 | A34 | A35 | A36 | A37 | A38 | A39 | A40 | A41 | A43 | A44 | A45 | A46 | A47 | A48 | A49 | A50 | A51 | A52 | A53 | A54 | A55 | A56 | A57 | A59 | A60 | A61 | A62 | A63 | A64 | A65 | A66 | A67 | A68 | A69 | A70 | A71 | A72 | A73 | L38 L40 L41 L42 L43 L44 L45 A80 A81 A82 A83 | L38 L39 L40 L46 L47 L48 L49 A84 A85 A86 A87
equation "d72 = 36 mm"
equation "d73 = d72"
equation "d74 = d76"
equation "d75 = d71"
equation "d76 = d73"
equation "d77 = 3 mm"
equation "d81 = d75 / 2"
equation "d82 = d76 / 2"
equation "d83 = d109"
equation "d84 = d74 / 2"
equation "d85 = d75 / 2"
equation "d86 = d71"
equation "d87 = d86"
equation "d88 = d72"
equation "d89 = d88"
equation "d91 = d88"
equation "d92 = d71"
equation "d95 = d94"
equation "d96 = d94"
equation "d97 = d71"
equation "d98 = d77"
equation "d99 = d92 / 2"
equation "d100 = d94 / 2"
equation "d101 = d77"
equation "d102 = d100"
equation "d103 = d98"
equation "d104 = d97 / 2"
equation "d106 = d103"
equation "d107 = d96 / 2"
equation "d108 = d97 / 2"
equation "d110 = d73 / 2"
equation "d111 = d71 / 2"
equation "d113 = d95 / 2"
equation "d144 = d141"
equation "d145 = d143"
equation "d156 = d154 / 2"
